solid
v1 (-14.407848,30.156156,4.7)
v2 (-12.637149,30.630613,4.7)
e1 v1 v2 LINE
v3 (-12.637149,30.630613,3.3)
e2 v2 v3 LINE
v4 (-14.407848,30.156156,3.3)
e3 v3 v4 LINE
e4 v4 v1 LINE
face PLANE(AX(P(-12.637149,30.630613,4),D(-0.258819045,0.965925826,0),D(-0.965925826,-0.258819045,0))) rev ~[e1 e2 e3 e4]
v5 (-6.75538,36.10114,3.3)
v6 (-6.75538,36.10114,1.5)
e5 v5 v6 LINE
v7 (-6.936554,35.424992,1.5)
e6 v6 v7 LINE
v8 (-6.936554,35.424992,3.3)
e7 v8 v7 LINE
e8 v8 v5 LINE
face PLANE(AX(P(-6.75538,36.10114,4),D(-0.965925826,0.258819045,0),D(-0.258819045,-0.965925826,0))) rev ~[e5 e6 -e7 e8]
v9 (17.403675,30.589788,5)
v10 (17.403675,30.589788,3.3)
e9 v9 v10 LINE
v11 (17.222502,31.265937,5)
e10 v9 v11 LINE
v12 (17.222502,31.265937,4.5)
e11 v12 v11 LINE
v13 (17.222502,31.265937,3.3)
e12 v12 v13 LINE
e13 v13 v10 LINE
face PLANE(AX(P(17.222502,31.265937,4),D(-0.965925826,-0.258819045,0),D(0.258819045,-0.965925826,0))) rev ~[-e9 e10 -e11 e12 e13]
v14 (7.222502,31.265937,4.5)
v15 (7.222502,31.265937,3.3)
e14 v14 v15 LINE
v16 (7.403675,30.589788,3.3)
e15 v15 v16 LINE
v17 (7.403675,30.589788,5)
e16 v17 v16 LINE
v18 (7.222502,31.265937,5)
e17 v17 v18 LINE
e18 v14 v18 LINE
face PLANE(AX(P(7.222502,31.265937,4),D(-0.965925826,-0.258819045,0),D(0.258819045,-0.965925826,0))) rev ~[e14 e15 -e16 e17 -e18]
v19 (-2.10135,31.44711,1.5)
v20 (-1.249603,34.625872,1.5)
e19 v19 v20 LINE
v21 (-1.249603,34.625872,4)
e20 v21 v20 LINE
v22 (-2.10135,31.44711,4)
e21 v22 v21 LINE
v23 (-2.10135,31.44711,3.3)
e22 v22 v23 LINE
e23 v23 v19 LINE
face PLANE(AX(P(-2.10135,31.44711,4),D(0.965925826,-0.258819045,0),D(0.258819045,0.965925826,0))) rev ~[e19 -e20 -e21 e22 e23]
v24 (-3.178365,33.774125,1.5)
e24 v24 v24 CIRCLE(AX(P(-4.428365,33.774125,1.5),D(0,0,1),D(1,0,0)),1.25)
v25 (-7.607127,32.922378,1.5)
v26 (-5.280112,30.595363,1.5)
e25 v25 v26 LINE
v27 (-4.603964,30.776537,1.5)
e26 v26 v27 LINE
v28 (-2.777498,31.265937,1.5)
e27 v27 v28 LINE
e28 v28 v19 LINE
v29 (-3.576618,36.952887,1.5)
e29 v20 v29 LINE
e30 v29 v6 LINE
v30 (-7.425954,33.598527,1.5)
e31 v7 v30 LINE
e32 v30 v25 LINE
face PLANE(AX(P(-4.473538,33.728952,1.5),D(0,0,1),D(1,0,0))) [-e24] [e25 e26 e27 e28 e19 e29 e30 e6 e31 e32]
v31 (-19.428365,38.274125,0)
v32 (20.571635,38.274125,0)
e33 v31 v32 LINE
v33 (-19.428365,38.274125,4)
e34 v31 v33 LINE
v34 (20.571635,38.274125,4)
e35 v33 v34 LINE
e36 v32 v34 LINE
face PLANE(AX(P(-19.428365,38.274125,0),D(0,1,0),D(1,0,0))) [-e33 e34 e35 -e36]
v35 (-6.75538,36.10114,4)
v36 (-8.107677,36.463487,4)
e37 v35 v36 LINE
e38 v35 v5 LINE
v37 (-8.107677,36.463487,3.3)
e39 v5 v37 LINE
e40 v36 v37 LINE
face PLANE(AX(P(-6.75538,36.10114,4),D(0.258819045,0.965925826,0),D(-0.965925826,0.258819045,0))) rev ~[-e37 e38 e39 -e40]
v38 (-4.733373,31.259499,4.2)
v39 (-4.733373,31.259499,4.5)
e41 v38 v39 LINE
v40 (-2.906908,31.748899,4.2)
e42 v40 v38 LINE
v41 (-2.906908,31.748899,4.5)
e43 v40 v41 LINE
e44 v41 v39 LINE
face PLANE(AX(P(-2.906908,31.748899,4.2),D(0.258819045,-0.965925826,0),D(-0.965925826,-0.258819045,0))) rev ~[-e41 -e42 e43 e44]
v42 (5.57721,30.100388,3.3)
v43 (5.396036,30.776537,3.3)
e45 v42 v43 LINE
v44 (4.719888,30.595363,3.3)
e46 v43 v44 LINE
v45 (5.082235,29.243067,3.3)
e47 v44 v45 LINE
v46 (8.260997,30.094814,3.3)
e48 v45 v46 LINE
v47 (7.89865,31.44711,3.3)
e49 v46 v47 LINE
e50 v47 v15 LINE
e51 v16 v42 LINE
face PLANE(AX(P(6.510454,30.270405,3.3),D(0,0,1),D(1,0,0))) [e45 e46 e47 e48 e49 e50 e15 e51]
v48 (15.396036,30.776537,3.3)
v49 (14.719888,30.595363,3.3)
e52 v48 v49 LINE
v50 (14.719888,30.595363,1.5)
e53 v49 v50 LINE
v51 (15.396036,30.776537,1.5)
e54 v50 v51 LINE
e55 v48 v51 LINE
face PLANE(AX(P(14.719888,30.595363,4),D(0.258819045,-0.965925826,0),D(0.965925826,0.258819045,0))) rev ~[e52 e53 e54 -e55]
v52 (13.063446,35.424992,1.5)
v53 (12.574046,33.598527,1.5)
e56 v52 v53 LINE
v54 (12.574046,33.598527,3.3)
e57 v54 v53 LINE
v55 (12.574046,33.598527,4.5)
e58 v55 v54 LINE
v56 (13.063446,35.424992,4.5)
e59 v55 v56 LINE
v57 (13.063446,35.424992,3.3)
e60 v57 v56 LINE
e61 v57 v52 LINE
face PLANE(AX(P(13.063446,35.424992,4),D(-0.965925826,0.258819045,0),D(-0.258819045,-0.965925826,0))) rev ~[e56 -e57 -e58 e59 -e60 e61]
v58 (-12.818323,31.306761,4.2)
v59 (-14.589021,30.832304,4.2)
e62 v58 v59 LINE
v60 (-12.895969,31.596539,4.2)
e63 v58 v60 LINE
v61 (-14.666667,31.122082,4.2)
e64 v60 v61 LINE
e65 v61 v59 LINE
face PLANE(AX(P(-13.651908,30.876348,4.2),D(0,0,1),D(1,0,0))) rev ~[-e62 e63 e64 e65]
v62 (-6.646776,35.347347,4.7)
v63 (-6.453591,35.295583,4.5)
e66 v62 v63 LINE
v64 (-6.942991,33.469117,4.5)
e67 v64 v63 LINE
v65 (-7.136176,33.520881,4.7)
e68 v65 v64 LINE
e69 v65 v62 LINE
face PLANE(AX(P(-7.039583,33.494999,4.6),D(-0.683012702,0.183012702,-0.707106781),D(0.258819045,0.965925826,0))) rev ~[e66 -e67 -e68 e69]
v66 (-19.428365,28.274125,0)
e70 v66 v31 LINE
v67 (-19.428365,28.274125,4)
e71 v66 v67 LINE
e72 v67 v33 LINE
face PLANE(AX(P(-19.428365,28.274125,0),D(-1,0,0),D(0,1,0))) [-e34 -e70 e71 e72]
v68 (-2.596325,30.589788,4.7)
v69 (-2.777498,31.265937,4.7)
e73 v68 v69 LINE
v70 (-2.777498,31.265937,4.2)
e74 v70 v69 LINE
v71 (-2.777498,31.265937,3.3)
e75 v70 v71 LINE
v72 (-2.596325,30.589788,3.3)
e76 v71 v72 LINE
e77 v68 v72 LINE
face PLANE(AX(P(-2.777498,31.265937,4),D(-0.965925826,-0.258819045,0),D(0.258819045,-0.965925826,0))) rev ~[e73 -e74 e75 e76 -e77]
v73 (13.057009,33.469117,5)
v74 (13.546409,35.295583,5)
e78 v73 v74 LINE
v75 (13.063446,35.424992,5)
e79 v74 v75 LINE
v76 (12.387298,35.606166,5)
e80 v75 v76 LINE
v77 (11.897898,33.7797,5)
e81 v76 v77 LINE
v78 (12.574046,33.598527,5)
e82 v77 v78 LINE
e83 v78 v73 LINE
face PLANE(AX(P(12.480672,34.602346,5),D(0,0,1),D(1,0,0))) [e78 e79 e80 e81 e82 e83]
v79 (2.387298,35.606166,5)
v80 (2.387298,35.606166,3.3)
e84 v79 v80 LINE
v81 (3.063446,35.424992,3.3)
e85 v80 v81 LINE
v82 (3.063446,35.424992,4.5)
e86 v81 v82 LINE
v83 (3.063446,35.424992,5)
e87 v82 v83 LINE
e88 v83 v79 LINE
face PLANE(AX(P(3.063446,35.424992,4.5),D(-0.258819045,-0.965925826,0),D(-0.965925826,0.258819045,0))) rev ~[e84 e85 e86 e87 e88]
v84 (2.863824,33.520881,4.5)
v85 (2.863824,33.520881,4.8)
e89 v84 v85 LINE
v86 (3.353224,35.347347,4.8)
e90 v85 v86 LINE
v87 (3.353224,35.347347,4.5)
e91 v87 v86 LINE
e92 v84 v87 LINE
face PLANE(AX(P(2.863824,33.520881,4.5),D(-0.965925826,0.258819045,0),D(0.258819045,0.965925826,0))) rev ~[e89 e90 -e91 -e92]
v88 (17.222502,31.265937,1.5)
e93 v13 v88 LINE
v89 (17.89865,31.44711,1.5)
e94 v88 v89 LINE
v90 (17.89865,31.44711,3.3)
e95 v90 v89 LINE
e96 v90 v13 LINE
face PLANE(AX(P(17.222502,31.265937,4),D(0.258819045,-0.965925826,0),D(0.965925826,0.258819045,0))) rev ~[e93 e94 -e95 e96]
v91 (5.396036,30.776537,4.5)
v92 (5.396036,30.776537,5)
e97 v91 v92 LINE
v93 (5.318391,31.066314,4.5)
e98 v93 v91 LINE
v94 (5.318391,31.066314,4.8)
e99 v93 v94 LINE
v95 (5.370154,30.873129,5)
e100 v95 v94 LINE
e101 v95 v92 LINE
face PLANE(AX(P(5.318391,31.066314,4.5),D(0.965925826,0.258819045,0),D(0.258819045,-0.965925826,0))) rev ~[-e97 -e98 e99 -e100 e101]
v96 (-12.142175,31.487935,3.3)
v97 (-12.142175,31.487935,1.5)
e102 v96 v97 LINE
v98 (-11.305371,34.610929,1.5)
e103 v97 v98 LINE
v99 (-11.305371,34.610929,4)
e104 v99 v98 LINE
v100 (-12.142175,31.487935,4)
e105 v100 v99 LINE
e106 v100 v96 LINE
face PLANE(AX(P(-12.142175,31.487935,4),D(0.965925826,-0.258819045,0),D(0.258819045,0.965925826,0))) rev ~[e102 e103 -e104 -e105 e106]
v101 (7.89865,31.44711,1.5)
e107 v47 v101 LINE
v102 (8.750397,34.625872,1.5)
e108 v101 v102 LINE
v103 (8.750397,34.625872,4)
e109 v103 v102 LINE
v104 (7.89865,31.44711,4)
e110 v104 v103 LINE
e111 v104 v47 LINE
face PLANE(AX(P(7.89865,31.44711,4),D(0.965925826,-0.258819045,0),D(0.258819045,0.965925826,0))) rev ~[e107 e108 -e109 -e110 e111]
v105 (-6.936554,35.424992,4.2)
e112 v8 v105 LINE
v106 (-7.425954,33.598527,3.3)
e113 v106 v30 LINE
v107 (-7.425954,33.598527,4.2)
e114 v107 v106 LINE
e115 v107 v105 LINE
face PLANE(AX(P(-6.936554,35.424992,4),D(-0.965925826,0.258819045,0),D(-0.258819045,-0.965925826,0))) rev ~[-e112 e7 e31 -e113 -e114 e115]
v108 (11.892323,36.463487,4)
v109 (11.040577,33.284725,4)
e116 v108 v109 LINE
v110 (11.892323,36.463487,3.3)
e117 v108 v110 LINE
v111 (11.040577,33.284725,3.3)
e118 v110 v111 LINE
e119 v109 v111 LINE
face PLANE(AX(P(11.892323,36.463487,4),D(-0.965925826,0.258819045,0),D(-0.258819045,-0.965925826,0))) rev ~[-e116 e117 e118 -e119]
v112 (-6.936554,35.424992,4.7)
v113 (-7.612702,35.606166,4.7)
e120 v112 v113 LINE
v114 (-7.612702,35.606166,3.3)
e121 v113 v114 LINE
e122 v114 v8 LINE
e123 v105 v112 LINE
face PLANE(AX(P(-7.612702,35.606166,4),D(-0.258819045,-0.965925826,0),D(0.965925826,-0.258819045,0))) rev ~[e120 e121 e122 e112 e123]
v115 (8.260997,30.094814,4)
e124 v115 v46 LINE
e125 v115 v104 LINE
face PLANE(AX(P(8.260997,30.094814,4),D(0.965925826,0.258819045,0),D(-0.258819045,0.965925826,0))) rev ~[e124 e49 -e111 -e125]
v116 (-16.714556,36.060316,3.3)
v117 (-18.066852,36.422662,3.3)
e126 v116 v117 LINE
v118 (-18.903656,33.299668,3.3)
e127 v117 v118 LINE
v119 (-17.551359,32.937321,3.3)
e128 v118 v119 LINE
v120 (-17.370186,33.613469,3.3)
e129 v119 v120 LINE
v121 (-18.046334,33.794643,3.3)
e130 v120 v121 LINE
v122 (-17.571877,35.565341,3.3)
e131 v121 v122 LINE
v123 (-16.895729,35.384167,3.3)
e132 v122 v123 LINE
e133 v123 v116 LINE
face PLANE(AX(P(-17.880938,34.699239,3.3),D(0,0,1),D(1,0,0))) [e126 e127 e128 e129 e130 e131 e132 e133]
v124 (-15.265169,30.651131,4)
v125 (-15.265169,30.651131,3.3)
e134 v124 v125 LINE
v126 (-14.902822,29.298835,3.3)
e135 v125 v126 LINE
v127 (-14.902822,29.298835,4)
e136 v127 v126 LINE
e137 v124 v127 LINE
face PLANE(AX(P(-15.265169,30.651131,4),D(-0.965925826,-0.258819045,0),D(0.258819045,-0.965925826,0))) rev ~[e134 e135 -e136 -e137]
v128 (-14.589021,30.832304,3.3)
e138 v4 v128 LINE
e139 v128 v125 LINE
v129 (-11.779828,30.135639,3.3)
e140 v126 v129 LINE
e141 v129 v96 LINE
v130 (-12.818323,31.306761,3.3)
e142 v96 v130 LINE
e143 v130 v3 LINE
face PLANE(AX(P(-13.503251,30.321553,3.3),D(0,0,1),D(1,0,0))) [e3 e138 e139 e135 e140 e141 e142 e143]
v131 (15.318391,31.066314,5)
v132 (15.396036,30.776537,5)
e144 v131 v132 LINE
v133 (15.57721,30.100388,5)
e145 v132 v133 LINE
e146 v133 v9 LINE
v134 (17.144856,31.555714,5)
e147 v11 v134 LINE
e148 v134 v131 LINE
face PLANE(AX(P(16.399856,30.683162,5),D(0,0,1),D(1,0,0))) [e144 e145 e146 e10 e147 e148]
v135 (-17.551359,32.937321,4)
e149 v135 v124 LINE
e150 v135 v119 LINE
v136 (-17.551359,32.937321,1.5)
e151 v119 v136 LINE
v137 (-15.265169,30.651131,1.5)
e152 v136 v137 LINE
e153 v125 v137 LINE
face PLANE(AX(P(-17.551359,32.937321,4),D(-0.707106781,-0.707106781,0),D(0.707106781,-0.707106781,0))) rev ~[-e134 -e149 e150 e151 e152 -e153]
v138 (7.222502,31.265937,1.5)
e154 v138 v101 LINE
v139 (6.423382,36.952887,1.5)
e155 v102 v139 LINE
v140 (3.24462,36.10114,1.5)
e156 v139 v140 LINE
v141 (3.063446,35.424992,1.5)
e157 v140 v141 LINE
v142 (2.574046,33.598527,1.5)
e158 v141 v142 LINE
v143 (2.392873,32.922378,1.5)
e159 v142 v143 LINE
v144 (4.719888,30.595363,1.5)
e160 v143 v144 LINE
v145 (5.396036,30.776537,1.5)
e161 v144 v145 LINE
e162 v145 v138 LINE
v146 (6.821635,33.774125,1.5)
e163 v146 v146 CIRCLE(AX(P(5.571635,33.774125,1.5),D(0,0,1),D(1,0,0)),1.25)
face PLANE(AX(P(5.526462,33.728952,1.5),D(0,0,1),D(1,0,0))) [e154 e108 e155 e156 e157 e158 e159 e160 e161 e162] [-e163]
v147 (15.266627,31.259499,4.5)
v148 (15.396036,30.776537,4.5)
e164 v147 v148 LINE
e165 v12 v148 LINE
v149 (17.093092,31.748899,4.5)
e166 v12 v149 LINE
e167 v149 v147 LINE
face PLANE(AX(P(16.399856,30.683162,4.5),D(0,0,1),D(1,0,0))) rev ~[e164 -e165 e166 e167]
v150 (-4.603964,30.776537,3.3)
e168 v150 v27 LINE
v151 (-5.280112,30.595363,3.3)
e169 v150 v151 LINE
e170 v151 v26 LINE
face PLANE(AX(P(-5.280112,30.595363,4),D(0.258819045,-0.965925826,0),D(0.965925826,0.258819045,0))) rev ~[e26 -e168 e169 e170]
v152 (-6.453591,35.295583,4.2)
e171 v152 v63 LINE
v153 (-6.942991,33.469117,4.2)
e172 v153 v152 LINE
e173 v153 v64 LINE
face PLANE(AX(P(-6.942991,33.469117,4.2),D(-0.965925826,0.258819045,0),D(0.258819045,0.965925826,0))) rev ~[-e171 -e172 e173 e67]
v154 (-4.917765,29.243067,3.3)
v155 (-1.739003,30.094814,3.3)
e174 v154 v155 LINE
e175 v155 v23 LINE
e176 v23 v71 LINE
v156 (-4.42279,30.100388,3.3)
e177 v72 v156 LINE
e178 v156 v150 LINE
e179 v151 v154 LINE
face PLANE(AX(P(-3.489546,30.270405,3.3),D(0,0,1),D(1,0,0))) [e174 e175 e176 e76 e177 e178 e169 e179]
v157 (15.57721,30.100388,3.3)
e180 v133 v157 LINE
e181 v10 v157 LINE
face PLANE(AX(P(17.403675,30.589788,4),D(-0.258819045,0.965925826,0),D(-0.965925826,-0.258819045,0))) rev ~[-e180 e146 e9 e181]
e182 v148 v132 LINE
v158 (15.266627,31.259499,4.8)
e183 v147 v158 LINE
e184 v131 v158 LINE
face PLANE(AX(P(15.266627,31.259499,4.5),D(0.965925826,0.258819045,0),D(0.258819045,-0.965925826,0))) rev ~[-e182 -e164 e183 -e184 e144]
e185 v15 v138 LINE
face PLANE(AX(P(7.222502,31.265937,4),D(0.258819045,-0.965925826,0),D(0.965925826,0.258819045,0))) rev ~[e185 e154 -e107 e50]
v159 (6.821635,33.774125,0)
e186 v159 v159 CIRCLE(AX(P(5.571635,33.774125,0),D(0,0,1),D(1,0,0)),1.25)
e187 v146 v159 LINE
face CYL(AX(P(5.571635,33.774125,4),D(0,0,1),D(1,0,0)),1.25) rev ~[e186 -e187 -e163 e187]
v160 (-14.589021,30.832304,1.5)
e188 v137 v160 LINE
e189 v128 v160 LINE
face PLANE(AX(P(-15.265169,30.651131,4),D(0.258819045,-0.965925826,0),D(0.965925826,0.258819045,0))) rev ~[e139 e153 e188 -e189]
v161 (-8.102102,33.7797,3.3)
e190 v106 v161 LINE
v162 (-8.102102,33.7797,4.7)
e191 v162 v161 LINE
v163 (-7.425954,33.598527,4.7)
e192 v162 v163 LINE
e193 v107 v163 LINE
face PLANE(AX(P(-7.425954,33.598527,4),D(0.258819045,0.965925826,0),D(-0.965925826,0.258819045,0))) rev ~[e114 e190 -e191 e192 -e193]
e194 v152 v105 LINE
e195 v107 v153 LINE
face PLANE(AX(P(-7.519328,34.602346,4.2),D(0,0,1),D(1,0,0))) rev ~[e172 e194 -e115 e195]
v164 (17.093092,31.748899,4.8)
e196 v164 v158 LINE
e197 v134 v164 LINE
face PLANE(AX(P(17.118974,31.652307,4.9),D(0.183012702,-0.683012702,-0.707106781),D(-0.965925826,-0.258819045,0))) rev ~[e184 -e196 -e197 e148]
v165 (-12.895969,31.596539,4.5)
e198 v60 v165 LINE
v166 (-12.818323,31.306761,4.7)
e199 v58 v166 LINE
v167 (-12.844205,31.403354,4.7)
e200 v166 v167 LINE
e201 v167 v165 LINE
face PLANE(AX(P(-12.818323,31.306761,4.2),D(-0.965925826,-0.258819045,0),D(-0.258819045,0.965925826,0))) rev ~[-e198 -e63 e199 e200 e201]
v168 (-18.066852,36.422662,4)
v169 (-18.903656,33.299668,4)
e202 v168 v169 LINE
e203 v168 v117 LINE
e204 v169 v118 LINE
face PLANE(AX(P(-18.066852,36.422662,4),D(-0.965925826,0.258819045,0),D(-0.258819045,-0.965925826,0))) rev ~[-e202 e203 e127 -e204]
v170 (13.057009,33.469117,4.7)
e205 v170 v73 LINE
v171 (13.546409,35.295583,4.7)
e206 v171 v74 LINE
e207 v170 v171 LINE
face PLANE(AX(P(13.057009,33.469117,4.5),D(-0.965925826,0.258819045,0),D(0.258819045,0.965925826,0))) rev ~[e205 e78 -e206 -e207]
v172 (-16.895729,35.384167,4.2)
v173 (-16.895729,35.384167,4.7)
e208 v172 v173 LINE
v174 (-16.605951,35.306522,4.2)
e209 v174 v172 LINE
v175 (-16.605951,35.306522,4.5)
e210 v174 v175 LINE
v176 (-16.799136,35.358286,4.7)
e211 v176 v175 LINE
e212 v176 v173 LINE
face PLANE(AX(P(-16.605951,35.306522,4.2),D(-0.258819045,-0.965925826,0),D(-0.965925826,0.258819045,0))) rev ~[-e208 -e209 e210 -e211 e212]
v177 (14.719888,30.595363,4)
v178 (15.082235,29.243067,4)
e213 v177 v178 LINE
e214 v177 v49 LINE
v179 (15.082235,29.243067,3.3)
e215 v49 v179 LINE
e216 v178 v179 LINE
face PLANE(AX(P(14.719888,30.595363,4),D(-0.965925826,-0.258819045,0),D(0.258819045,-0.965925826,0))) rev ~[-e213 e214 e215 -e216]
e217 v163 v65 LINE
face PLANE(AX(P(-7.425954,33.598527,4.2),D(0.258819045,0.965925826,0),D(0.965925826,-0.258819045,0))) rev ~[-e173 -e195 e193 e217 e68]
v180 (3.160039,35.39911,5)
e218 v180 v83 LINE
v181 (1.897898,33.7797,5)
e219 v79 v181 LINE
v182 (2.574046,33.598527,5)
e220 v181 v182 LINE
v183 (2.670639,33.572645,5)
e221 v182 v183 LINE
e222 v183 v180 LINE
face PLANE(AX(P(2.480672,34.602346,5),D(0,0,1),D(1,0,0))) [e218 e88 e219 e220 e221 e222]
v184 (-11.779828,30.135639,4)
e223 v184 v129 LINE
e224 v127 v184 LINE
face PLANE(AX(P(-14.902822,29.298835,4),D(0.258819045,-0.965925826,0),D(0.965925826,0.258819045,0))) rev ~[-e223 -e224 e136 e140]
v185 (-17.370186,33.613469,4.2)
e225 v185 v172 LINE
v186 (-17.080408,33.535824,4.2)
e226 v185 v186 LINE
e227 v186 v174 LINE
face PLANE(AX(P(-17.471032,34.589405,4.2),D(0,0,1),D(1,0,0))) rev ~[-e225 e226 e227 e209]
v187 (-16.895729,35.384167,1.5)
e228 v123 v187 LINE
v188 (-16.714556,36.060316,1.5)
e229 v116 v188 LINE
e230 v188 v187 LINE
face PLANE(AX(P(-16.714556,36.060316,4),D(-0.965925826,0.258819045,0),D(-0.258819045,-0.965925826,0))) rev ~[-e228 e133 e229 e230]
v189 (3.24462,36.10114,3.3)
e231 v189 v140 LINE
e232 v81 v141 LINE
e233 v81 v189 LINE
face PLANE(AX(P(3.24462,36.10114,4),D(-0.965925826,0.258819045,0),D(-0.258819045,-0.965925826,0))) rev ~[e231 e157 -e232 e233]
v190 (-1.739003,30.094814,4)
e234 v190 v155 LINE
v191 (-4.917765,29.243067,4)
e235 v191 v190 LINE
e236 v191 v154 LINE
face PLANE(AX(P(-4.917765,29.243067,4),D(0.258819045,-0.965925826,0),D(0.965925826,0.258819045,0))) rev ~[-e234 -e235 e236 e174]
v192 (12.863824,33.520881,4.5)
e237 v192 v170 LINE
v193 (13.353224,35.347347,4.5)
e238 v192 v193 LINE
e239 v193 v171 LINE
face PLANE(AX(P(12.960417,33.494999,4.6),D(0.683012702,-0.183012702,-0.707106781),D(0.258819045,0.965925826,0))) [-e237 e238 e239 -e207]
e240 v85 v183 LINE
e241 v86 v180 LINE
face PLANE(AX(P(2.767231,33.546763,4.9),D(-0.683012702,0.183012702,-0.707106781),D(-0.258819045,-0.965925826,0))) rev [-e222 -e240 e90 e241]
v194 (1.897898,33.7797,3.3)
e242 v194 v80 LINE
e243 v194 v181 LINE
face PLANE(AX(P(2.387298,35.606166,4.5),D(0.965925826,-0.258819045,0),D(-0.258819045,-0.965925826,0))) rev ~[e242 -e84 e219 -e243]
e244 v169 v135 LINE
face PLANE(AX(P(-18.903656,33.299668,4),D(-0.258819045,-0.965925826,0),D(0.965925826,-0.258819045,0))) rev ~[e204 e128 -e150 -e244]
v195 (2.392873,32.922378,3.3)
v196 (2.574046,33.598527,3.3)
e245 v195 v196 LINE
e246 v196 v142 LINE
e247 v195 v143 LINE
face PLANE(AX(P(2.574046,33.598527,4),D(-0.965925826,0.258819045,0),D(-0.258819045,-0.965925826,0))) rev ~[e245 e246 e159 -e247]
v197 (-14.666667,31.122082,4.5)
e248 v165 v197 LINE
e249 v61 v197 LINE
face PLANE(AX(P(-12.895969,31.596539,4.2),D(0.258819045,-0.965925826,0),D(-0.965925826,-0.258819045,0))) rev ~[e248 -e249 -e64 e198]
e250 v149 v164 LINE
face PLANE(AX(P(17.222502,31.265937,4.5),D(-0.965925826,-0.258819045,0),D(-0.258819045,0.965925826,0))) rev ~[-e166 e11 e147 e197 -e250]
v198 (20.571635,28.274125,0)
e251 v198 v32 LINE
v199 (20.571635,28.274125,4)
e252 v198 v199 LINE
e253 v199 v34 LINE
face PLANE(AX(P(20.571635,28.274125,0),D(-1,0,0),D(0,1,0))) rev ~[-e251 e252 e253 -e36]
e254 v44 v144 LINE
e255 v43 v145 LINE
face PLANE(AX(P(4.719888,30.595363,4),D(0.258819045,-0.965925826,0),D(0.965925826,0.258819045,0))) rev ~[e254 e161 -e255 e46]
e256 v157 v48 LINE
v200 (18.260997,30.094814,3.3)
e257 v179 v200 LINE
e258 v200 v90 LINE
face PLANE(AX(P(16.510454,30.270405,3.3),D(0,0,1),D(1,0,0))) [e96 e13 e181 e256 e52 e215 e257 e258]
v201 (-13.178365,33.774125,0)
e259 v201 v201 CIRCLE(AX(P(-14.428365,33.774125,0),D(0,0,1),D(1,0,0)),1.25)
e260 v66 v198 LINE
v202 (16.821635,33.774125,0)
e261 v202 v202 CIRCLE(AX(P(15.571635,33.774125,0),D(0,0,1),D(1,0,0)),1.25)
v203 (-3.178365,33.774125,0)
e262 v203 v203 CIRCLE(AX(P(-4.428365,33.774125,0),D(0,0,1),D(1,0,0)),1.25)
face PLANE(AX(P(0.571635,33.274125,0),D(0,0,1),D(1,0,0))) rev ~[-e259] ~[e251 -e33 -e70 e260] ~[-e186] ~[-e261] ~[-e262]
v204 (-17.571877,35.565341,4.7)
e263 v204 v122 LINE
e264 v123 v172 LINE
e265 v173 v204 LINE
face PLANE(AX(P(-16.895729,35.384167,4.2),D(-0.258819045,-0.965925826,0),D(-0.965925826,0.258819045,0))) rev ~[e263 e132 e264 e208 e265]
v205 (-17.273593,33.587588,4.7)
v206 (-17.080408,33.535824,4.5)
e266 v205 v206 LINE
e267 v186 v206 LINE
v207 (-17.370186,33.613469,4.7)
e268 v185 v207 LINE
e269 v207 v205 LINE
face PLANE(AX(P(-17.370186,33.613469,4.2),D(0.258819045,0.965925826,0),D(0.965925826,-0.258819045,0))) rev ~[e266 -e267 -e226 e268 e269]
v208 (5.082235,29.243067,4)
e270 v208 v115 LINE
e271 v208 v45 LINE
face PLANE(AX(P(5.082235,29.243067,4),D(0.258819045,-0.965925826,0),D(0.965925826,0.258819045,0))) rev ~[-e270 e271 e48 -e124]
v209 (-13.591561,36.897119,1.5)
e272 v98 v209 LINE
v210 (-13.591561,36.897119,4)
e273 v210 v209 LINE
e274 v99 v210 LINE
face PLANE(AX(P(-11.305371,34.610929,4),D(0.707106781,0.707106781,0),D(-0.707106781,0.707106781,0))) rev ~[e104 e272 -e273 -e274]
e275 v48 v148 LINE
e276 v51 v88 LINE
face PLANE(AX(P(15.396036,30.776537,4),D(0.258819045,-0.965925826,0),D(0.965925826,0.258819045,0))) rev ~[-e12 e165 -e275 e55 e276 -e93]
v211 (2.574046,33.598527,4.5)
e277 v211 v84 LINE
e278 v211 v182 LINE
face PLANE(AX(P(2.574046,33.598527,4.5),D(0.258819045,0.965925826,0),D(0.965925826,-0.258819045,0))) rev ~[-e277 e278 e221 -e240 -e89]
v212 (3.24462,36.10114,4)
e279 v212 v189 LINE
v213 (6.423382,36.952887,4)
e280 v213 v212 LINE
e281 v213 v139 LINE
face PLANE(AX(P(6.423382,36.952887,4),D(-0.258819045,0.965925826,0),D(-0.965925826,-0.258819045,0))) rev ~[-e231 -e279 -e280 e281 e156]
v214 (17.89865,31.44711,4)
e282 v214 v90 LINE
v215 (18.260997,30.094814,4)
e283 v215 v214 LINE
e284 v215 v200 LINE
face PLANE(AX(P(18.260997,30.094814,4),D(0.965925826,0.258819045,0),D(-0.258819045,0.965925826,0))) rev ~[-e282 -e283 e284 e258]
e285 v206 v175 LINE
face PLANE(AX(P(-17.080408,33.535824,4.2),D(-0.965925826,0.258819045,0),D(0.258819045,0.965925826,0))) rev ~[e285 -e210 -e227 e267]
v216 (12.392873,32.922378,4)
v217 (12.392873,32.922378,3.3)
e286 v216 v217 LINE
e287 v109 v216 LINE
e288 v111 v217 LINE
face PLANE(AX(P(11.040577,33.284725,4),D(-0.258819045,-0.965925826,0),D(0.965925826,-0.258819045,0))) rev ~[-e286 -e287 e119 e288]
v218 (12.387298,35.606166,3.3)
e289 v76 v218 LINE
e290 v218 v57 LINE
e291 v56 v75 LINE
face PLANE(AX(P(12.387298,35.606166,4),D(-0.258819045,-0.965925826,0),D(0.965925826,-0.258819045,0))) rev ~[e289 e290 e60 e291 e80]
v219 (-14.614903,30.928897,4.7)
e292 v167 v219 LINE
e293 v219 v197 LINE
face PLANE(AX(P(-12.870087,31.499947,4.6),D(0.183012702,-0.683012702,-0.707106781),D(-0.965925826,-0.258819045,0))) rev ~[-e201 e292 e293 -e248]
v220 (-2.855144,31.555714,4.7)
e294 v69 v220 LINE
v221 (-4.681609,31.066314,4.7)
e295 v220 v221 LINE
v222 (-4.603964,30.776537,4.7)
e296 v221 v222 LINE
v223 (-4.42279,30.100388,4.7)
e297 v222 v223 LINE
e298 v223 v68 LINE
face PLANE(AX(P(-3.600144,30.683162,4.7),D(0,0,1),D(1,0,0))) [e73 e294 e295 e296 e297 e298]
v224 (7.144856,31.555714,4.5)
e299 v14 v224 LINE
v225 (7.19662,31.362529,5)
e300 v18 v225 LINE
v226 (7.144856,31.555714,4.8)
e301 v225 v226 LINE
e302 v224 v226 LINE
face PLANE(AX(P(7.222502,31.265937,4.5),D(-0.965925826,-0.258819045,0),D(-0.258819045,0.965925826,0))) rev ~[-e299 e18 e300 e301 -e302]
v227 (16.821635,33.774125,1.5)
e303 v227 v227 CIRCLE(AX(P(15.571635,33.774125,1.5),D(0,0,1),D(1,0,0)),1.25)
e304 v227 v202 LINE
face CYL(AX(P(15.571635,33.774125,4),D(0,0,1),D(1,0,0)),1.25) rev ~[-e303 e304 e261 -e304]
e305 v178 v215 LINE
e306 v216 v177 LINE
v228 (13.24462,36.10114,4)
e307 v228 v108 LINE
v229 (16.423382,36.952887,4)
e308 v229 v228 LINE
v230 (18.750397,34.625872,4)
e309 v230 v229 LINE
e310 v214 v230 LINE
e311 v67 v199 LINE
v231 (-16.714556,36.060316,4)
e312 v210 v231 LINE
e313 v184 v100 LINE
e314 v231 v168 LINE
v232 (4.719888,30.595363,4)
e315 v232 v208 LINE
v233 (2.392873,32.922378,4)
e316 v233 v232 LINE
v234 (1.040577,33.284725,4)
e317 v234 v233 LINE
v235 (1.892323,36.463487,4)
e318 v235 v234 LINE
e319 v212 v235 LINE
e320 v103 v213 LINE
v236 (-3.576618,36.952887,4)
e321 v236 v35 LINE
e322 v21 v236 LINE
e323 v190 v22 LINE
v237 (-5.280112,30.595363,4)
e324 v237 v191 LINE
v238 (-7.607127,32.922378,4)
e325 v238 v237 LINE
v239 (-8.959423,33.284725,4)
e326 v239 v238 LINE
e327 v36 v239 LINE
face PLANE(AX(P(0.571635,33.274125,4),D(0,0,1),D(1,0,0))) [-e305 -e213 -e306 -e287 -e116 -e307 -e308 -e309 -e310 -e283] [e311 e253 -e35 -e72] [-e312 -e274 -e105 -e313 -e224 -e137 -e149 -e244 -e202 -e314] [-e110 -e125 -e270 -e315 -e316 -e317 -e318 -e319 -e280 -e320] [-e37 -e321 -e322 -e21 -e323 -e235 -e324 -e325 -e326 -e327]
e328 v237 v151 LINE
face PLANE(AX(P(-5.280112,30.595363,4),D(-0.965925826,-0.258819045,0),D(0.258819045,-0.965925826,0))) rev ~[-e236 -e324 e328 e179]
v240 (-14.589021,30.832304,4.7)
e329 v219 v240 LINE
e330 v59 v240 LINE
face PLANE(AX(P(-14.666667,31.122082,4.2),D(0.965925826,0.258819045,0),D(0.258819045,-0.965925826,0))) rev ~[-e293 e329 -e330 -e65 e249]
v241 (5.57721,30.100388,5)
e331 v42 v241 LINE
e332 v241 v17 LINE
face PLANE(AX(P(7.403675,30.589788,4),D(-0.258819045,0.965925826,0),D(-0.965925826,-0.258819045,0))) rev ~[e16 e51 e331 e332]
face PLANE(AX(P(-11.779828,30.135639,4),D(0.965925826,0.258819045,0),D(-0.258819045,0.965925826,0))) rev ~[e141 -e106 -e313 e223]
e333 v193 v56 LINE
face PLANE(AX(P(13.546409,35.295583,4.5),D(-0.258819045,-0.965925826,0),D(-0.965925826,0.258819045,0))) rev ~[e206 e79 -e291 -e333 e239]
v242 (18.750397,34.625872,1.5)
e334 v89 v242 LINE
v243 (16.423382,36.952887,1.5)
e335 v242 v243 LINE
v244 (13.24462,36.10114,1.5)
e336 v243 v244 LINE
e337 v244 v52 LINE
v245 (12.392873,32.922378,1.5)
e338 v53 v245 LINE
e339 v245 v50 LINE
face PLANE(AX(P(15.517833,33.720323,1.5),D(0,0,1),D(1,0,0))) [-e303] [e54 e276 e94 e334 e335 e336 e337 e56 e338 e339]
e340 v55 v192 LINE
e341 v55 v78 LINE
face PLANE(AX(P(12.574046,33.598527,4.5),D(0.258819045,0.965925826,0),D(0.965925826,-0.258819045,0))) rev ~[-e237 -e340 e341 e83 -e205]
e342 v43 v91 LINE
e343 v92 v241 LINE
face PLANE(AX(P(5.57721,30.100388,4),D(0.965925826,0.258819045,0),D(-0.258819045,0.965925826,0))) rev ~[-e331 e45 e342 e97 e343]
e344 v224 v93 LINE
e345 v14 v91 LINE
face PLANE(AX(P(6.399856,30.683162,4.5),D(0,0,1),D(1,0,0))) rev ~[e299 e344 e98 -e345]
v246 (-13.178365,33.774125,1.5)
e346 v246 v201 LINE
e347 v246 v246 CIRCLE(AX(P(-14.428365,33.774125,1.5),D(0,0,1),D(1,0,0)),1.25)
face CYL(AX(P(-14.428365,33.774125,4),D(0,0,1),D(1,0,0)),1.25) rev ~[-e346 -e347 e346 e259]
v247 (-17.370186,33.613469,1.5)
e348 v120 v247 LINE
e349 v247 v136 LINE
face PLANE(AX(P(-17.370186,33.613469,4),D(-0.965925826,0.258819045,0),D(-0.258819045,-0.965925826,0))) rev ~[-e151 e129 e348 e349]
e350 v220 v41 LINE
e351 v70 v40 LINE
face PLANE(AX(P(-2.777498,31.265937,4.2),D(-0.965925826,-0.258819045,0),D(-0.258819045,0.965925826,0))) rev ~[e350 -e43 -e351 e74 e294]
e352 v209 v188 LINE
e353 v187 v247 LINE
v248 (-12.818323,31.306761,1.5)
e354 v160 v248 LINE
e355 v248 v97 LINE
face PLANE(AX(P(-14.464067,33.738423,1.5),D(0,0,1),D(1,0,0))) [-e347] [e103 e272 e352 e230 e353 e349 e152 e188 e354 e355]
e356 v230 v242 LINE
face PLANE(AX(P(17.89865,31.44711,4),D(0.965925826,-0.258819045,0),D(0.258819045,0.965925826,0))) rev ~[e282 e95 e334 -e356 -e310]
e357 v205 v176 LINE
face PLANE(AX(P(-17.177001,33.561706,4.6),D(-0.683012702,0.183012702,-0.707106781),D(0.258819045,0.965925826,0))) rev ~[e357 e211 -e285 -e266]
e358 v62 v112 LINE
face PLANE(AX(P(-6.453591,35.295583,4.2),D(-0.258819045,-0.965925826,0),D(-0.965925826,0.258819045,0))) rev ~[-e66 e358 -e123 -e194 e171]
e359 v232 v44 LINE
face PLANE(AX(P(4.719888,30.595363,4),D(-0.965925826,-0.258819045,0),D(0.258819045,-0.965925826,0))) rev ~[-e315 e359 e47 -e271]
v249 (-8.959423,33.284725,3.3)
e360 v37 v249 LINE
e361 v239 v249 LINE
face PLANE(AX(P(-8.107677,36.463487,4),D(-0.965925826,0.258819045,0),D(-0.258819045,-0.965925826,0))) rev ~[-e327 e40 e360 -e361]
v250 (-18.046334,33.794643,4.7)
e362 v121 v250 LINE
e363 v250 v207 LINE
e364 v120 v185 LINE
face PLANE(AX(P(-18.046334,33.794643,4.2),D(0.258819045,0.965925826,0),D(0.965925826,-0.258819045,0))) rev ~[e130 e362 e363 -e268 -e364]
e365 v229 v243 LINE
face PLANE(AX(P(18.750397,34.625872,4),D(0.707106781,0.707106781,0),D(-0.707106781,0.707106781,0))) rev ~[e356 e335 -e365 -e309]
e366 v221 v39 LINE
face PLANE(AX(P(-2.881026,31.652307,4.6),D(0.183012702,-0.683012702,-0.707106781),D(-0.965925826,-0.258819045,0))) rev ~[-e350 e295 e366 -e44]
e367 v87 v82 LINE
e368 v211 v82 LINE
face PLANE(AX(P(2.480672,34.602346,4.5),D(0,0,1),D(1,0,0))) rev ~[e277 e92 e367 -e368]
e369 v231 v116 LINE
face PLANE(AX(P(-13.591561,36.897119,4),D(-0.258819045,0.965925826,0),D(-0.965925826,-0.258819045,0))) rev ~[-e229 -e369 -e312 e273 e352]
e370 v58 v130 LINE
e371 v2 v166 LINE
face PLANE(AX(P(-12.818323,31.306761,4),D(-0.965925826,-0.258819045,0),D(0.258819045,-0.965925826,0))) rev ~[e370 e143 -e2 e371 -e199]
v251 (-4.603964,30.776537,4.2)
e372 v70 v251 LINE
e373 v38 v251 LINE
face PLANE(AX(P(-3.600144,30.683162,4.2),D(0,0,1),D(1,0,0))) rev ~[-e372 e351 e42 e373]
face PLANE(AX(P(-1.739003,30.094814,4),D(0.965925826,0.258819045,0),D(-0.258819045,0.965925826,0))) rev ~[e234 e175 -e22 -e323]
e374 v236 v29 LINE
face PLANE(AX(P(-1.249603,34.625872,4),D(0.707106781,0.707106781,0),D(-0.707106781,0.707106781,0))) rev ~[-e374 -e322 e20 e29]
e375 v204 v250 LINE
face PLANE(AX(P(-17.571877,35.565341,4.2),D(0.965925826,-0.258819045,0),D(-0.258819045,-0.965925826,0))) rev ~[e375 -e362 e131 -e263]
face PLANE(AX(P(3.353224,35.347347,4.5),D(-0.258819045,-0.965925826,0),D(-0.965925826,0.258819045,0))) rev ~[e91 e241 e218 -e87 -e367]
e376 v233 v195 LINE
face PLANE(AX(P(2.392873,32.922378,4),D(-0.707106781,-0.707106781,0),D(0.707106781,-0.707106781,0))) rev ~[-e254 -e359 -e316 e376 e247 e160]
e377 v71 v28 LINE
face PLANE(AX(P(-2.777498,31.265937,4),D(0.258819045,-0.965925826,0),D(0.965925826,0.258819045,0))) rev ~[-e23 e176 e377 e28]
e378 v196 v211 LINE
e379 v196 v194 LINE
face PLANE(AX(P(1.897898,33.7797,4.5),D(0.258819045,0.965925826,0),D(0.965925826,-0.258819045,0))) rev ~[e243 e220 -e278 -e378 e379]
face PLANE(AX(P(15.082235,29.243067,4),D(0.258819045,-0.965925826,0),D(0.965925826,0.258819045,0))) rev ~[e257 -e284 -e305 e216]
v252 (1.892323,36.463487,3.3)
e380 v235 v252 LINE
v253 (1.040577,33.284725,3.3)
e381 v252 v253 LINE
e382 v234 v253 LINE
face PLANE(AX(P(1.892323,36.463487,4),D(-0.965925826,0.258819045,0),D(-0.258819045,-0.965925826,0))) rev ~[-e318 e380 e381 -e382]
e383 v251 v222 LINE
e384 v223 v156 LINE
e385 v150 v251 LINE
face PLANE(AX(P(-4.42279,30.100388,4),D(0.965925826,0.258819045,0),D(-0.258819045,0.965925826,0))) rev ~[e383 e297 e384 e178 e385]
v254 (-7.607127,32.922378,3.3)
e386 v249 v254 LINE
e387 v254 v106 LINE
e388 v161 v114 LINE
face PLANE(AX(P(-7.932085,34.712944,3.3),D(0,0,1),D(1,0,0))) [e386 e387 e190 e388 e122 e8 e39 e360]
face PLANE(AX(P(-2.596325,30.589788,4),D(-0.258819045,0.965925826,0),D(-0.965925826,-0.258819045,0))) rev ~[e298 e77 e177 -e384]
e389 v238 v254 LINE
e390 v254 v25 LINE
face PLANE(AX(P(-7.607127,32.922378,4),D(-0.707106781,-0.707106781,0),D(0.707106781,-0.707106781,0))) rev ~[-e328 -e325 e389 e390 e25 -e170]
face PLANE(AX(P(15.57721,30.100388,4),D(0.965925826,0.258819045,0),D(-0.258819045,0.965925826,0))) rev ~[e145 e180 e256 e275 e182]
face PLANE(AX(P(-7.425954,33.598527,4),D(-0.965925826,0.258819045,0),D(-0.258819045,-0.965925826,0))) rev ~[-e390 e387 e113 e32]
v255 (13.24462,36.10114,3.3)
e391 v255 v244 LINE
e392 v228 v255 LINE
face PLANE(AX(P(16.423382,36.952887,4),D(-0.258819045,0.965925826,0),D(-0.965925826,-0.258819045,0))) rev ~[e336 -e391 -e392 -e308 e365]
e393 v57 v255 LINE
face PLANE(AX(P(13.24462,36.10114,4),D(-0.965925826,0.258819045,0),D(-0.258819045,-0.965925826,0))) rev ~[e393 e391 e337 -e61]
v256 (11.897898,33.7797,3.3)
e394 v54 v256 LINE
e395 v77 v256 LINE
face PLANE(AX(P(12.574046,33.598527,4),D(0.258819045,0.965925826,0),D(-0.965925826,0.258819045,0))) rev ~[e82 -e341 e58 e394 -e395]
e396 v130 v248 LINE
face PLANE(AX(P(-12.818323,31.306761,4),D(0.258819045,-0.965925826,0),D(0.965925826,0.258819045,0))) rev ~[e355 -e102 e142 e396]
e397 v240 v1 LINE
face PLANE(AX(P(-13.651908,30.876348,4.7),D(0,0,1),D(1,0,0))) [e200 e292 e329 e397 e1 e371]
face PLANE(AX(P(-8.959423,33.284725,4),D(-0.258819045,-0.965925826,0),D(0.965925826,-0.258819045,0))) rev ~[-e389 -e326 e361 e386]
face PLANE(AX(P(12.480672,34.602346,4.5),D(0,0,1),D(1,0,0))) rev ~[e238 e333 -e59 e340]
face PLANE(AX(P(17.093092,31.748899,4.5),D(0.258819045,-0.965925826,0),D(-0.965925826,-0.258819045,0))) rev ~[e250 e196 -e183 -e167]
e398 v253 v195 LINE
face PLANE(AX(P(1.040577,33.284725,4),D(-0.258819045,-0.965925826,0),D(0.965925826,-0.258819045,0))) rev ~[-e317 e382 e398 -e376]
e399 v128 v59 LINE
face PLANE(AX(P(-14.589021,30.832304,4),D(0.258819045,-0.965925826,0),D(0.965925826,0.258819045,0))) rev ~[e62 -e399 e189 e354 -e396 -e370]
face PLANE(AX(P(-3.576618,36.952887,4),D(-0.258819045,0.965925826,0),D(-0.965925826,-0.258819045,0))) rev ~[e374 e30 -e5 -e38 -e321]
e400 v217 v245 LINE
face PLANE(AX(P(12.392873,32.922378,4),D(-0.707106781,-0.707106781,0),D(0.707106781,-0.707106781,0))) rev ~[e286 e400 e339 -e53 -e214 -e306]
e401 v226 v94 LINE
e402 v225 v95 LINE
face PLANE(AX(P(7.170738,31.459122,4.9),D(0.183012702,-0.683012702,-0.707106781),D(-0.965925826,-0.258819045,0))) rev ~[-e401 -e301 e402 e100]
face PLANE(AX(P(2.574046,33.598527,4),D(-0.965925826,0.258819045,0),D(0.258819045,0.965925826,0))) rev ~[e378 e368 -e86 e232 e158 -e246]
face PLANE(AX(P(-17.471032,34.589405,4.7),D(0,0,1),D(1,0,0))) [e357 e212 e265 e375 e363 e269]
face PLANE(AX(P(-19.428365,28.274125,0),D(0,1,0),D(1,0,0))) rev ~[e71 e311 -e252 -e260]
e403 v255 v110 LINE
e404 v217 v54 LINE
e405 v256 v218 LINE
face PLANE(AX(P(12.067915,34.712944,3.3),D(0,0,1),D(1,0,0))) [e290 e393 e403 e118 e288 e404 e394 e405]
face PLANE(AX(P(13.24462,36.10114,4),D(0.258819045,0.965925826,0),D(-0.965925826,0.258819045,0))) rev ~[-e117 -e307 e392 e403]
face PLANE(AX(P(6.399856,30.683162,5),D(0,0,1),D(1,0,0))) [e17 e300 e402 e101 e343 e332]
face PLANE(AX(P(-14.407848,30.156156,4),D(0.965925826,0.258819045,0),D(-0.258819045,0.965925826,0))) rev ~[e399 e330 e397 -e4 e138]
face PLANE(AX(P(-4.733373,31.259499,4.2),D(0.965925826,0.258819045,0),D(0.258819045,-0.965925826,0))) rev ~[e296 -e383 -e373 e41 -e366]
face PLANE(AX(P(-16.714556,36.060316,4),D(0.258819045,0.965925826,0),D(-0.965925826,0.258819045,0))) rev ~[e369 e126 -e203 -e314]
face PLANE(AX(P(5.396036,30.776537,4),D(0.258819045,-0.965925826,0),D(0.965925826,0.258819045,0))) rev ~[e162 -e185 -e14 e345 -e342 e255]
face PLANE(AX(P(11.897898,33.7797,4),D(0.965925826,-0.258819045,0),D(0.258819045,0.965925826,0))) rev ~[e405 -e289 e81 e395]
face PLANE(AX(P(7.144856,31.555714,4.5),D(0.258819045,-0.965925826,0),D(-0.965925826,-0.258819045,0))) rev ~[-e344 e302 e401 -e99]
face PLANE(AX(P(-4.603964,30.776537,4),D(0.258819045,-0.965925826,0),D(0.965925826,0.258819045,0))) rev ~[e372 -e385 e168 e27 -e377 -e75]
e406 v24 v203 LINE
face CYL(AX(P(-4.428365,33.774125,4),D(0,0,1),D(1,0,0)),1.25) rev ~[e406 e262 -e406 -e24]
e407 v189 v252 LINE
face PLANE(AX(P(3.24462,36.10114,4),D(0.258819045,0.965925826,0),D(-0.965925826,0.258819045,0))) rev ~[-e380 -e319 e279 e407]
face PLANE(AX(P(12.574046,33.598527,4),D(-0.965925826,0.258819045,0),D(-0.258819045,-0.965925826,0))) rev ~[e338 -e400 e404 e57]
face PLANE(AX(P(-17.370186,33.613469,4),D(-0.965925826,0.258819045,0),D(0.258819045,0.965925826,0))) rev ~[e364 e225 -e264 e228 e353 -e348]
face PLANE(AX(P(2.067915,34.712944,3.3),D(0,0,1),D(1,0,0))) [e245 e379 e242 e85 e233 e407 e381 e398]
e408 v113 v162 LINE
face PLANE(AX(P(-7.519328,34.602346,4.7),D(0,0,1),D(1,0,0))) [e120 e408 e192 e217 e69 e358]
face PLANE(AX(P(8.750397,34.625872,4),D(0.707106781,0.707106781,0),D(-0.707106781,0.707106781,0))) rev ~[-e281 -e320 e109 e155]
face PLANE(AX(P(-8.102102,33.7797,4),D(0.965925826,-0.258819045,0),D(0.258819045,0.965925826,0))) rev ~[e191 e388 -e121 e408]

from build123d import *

# Parameters (mm, degrees)
F0_W      = 40
F0_H      = 10
F1_DEPTH  = 4
F2_R      = 1.25
F3_DEPTH  = 2.5
F4_DEPTH  = 0.7
F5_DEPTH  = 0.2
F6_DEPTH  = 0.5
F7_DEPTH  = 25
F9_DEPTH  = 0.5
F11_DEPTH = 0.5
F12_SIZE  = 0.2


with BuildPart() as f1:
    # F0 (on Top) → F1 (new body)
    with BuildSketch(Plane.XY):
        with Locations((0.5716348439, 33.2741251273)):
            Rectangle(F0_W, F0_H)
    extrude(amount=F1_DEPTH)

    # F2 (on face) → F3 (cut)
    with BuildSketch(Plane.XY.offset(4)):
        Polygon((-17.5513593567, 32.9373213533), (-15.2651689301, 30.6511309267), (-14.5890208517, 30.8323042582), (-14.6666665652, 31.1220820061), (-12.8959685214, 31.596539117), (-12.8183228079, 31.3067613691), (-12.1421747295, 31.4879347007), (-11.3053709554, 34.6109289013), (-13.591561382, 36.8971193279), (-16.7145555827, 36.0603155539), (-16.8957289142, 35.3841674755), (-16.6059511663, 35.3065217619), (-17.0804082772, 33.5358237181), (-17.3701860251, 33.6134694317), align=None)
        with Locations((-14.4283651561, 33.7741251273)):
            Circle(F2_R, mode=Mode.SUBTRACT)
        Polygon((-14.6666665652, 31.1220820061), (-14.5890208517, 30.8323042582), (-12.8183228079, 31.3067613691), (-12.8959685214, 31.596539117), align=None)
        Polygon((-16.8957289142, 35.3841674755), (-17.3701860251, 33.6134694317), (-17.0804082772, 33.5358237181), (-16.6059511663, 35.3065217619), align=None)
        Polygon((-7.6071271103, 32.9223784287), (-5.2801118546, 30.5953631731), (-4.6039637762, 30.7765365046), (-4.7074913943, 31.1629068352), (-2.8810255969, 31.6523068706), (-2.7774979788, 31.2659365401), (-2.1013499004, 31.4471098716), (-1.2496032019, 34.6258718258), (-3.5766184575, 36.9528870815), (-6.7553804117, 36.1011403829), (-6.9365537433, 35.4249923045), (-6.5501834128, 35.3214646865), (-7.0395834482, 33.4949988891), (-7.4259537787, 33.5985265071), align=None)
        with Locations((-4.4283651561, 33.7741251273)):
            Circle(F2_R, mode=Mode.SUBTRACT)
        Polygon((-4.7074913943, 31.1629068352), (-4.6039637762, 30.7765365046), (-2.7774979788, 31.2659365401), (-2.8810255969, 31.6523068706), align=None)
        Polygon((-6.9365537433, 35.4249923045), (-7.4259537787, 33.5985265071), (-7.0395834482, 33.4949988891), (-6.5501834128, 35.3214646865), align=None)
        Polygon((2.3928728897, 32.9223784287), (4.7198881454, 30.5953631731), (5.3960362238, 30.7765365046), (5.2925086057, 31.1629068352), (7.1189744031, 31.6523068706), (7.2225020212, 31.2659365401), (7.8986500996, 31.4471098716), (8.7503967981, 34.6258718258), (6.4233815425, 36.9528870815), (3.2446195883, 36.1011403829), (3.0634462567, 35.4249923045), (3.4498165872, 35.3214646865), (2.9604165518, 33.4949988891), (2.5740462213, 33.5985265071), align=None)
        with Locations((5.5716348439, 33.7741251273)):
            Circle(F2_R, mode=Mode.SUBTRACT)
        Polygon((3.0634462567, 35.4249923045), (2.5740462213, 33.5985265071), (2.9604165518, 33.4949988891), (3.4498165872, 35.3214646865), align=None)
        Polygon((5.2925086057, 31.1629068352), (5.3960362238, 30.7765365046), (7.2225020212, 31.2659365401), (7.1189744031, 31.6523068706), align=None)
        Polygon((12.3928728897, 32.9223784287), (14.7198881454, 30.5953631731), (15.3960362238, 30.7765365046), (15.2666267012, 31.2594994178), (17.0930924986, 31.7488994532), (17.2225020212, 31.2659365401), (17.8986500996, 31.4471098716), (18.7503967981, 34.6258718258), (16.4233815425, 36.9528870815), (13.2446195883, 36.1011403829), (13.0634462567, 35.4249923045), (13.5464091699, 35.295582782), (13.0570091345, 33.4691169846), (12.5740462213, 33.5985265071), align=None)
        with Locations((15.5716348439, 33.7741251273)):
            Circle(F2_R, mode=Mode.SUBTRACT)
        Polygon((15.2666267012, 31.2594994178), (15.3960362238, 30.7765365046), (17.2225020212, 31.2659365401), (17.0930924986, 31.7488994532), align=None)
        Polygon((13.0634462567, 35.4249923045), (12.5740462213, 33.5985265071), (13.0570091345, 33.4691169846), (13.5464091699, 35.295582782), align=None)
    extrude(amount=-F3_DEPTH, mode=Mode.SUBTRACT)

    # F2 (on face) → F4 (cut)
    with BuildSketch(Plane.XY.offset(4)):
        Polygon((-18.9036555135, 33.2996680164), (-17.5513593567, 32.9373213533), (-17.3701860251, 33.6134694317), (-18.0463341035, 33.7946427632), (-17.5718769926, 35.565340807), (-16.8957289142, 35.3841674755), (-16.7145555827, 36.0603155539), (-18.0668517395, 36.422662217), align=None)
        Polygon((-14.5890208517, 30.8323042582), (-15.2651689301, 30.6511309267), (-14.9028222669, 29.2988347699), (-11.7798280663, 30.1356385439), (-12.1421747295, 31.4879347007), (-12.8183228079, 31.3067613691), (-12.6371494763, 30.6306132907), (-14.4078475201, 30.1561561798), align=None)
        Polygon((-4.6039637762, 30.7765365046), (-5.2801118546, 30.5953631731), (-4.9177651915, 29.2430670163), (-1.7390032373, 30.0948137148), (-2.1013499004, 31.4471098716), (-2.7774979788, 31.2659365401), (-2.5963246472, 30.5897884617), (-4.4227904446, 30.1003884262), align=None)
        Polygon((-8.9594232671, 33.2847250919), (-7.6071271103, 32.9223784287), (-7.4259537787, 33.5985265071), (-8.1021018571, 33.7796998387), (-7.6127018217, 35.6061656361), (-6.9365537433, 35.4249923045), (-6.7553804117, 36.1011403829), (-8.1076765685, 36.4634870461), align=None)
        Polygon((1.0405767329, 33.2847250919), (2.3928728897, 32.9223784287), (2.5740462213, 33.5985265071), (1.8978981429, 33.7796998387), (2.3872981783, 35.6061656361), (3.0634462567, 35.4249923045), (3.2446195883, 36.1011403829), (1.8923234315, 36.4634870461), align=None)
        Polygon((5.3960362238, 30.7765365046), (4.7198881454, 30.5953631731), (5.0822348085, 29.2430670163), (8.2609967627, 30.0948137148), (7.8986500996, 31.4471098716), (7.2225020212, 31.2659365401), (7.4036753528, 30.5897884617), (5.5772095554, 30.1003884262), align=None)
        Polygon((15.3960362238, 30.7765365046), (14.7198881454, 30.5953631731), (15.0822348085, 29.2430670163), (18.2609967627, 30.0948137148), (17.8986500996, 31.4471098716), (17.2225020212, 31.2659365401), (17.4036753528, 30.5897884617), (15.5772095554, 30.1003884262), align=None)
        Polygon((11.0405767329, 33.2847250919), (12.3928728897, 32.9223784287), (12.5740462213, 33.5985265071), (11.8978981429, 33.7796998387), (12.3872981783, 35.6061656361), (13.0634462567, 35.4249923045), (13.2446195883, 36.1011403829), (11.8923234315, 36.4634870461), align=None)
    extrude(amount=-F4_DEPTH, mode=Mode.SUBTRACT)

    # F2 (on face) → F5 (join)
    with BuildSketch(Plane.XY.offset(4)):
        Polygon((-18.0463341035, 33.7946427632), (-17.3701860251, 33.6134694317), (-16.8957289142, 35.3841674755), (-17.5718769926, 35.565340807), align=None)
        Polygon((-12.8183228079, 31.3067613691), (-14.5890208517, 30.8323042582), (-14.4078475201, 30.1561561798), (-12.6371494763, 30.6306132907), align=None)
        Polygon((-2.7774979788, 31.2659365401), (-4.6039637762, 30.7765365046), (-4.4227904446, 30.1003884262), (-2.5963246472, 30.5897884617), align=None)
        Polygon((-8.1021018571, 33.7796998387), (-7.4259537787, 33.5985265071), (-6.9365537433, 35.4249923045), (-7.6127018217, 35.6061656361), align=None)
    extrude(amount=F5_DEPTH)

    # F2 (on face) → F6 (join)
    with BuildSketch(Plane.XY.offset(4)):
        Polygon((1.8978981429, 33.7796998387), (2.5740462213, 33.5985265071), (3.0634462567, 35.4249923045), (2.3872981783, 35.6061656361), align=None)
        Polygon((7.2225020212, 31.2659365401), (5.3960362238, 30.7765365046), (5.5772095554, 30.1003884262), (7.4036753528, 30.5897884617), align=None)
        Polygon((11.8978981429, 33.7796998387), (12.5740462213, 33.5985265071), (13.0634462567, 35.4249923045), (12.3872981783, 35.6061656361), align=None)
        Polygon((17.2225020212, 31.2659365401), (15.3960362238, 30.7765365046), (15.5772095554, 30.1003884262), (17.4036753528, 30.5897884617), align=None)
    extrude(amount=F6_DEPTH)

    # F7 (cut): faces of the model
    f7_faces = [f1.faces().sort_by_distance(p)[0] for p in [
        (-14.4283651561, 33.7741251273, 4),
        (-4.4283651561, 33.7741251273, 4),
        (5.5716348439, 33.7741251273, 4),
        (15.5716348439, 33.7741251273, 4),
    ]]
    extrude(f7_faces, amount=-F7_DEPTH, mode=Mode.SUBTRACT)

    # F8 (on face) → F9 (join)
    with BuildSketch(Plane.XY.offset(4.2)):
        Polygon((-17.5718769926, 35.565340807), (-18.0463341035, 33.7946427632), (-17.3701860251, 33.6134694317), (-16.8957289142, 35.3841674755), align=None)
        Polygon((-16.8957289142, 35.3841674755), (-17.3701860251, 33.6134694317), (-17.0804082772, 33.5358237181), (-16.6059511663, 35.3065217619), align=None)
        Polygon((-14.5890208517, 30.8323042582), (-14.4078475201, 30.1561561798), (-12.6371494763, 30.6306132907), (-12.8183228079, 31.3067613691), (-12.8959685214, 31.596539117), (-14.6666665652, 31.1220820061), align=None)
        Polygon((-7.6127018217, 35.6061656361), (-8.1021018571, 33.7796998387), (-7.4259537787, 33.5985265071), (-6.9365537433, 35.4249923045), align=None)
        Polygon((-6.9365537433, 35.4249923045), (-7.4259537787, 33.5985265071), (-6.9429908655, 33.4691169846), (-6.4535908301, 35.295582782), align=None)
        Polygon((-4.6039637762, 30.7765365046), (-4.4227904446, 30.1003884262), (-2.5963246472, 30.5897884617), (-2.7774979788, 31.2659365401), align=None)
        Polygon((-4.7333732988, 31.2594994178), (-4.6039637762, 30.7765365046), (-2.7774979788, 31.2659365401), (-2.9069075014, 31.7488994532), align=None)
    extrude(amount=F9_DEPTH)

    # F10 (on face) → F11 (join)
    with BuildSketch(Plane.XY.offset(4.5)):
        Polygon((2.3872981783, 35.6061656361), (1.8978981429, 33.7796998387), (2.5740462213, 33.5985265071), (3.0634462567, 35.4249923045), align=None)
        Polygon((3.0634462567, 35.4249923045), (2.5740462213, 33.5985265071), (2.8638239692, 33.5208807936), (3.3532240046, 35.347346591), align=None)
        Polygon((5.3960362238, 30.7765365046), (5.5772095554, 30.1003884262), (7.4036753528, 30.5897884617), (7.2225020212, 31.2659365401), align=None)
        Polygon((5.3183905103, 31.0663142525), (5.3960362238, 30.7765365046), (7.2225020212, 31.2659365401), (7.1448563077, 31.5557142879), align=None)
        Polygon((12.3872981783, 35.6061656361), (11.8978981429, 33.7796998387), (12.5740462213, 33.5985265071), (13.0634462567, 35.4249923045), align=None)
        Polygon((13.0634462567, 35.4249923045), (12.5740462213, 33.5985265071), (13.0570091345, 33.4691169846), (13.5464091699, 35.295582782), align=None)
        Polygon((15.3960362238, 30.7765365046), (15.5772095554, 30.1003884262), (17.4036753528, 30.5897884617), (17.2225020212, 31.2659365401), align=None)
        Polygon((15.2666267012, 31.2594994178), (15.3960362238, 30.7765365046), (17.2225020212, 31.2659365401), (17.0930924986, 31.7488994532), align=None)
    extrude(amount=F11_DEPTH)

    # F12
    f12_edges = [f1.edges().sort_by_distance(p)[0] for p in [
        (-16.84318, 34.421173, 4.7),
        (-13.781318, 31.359311, 4.7),
        (-6.698291, 34.38235, 4.7),
        (-3.82014, 31.504199, 4.7),
        (3.108524, 34.434114, 5),
        (6.231623, 31.311014, 5),
        (13.301709, 34.38235, 4.5),
        (16.17986, 31.504199, 5),
    ]]
    chamfer(f12_edges, length=F12_SIZE)


solid = f1.part
